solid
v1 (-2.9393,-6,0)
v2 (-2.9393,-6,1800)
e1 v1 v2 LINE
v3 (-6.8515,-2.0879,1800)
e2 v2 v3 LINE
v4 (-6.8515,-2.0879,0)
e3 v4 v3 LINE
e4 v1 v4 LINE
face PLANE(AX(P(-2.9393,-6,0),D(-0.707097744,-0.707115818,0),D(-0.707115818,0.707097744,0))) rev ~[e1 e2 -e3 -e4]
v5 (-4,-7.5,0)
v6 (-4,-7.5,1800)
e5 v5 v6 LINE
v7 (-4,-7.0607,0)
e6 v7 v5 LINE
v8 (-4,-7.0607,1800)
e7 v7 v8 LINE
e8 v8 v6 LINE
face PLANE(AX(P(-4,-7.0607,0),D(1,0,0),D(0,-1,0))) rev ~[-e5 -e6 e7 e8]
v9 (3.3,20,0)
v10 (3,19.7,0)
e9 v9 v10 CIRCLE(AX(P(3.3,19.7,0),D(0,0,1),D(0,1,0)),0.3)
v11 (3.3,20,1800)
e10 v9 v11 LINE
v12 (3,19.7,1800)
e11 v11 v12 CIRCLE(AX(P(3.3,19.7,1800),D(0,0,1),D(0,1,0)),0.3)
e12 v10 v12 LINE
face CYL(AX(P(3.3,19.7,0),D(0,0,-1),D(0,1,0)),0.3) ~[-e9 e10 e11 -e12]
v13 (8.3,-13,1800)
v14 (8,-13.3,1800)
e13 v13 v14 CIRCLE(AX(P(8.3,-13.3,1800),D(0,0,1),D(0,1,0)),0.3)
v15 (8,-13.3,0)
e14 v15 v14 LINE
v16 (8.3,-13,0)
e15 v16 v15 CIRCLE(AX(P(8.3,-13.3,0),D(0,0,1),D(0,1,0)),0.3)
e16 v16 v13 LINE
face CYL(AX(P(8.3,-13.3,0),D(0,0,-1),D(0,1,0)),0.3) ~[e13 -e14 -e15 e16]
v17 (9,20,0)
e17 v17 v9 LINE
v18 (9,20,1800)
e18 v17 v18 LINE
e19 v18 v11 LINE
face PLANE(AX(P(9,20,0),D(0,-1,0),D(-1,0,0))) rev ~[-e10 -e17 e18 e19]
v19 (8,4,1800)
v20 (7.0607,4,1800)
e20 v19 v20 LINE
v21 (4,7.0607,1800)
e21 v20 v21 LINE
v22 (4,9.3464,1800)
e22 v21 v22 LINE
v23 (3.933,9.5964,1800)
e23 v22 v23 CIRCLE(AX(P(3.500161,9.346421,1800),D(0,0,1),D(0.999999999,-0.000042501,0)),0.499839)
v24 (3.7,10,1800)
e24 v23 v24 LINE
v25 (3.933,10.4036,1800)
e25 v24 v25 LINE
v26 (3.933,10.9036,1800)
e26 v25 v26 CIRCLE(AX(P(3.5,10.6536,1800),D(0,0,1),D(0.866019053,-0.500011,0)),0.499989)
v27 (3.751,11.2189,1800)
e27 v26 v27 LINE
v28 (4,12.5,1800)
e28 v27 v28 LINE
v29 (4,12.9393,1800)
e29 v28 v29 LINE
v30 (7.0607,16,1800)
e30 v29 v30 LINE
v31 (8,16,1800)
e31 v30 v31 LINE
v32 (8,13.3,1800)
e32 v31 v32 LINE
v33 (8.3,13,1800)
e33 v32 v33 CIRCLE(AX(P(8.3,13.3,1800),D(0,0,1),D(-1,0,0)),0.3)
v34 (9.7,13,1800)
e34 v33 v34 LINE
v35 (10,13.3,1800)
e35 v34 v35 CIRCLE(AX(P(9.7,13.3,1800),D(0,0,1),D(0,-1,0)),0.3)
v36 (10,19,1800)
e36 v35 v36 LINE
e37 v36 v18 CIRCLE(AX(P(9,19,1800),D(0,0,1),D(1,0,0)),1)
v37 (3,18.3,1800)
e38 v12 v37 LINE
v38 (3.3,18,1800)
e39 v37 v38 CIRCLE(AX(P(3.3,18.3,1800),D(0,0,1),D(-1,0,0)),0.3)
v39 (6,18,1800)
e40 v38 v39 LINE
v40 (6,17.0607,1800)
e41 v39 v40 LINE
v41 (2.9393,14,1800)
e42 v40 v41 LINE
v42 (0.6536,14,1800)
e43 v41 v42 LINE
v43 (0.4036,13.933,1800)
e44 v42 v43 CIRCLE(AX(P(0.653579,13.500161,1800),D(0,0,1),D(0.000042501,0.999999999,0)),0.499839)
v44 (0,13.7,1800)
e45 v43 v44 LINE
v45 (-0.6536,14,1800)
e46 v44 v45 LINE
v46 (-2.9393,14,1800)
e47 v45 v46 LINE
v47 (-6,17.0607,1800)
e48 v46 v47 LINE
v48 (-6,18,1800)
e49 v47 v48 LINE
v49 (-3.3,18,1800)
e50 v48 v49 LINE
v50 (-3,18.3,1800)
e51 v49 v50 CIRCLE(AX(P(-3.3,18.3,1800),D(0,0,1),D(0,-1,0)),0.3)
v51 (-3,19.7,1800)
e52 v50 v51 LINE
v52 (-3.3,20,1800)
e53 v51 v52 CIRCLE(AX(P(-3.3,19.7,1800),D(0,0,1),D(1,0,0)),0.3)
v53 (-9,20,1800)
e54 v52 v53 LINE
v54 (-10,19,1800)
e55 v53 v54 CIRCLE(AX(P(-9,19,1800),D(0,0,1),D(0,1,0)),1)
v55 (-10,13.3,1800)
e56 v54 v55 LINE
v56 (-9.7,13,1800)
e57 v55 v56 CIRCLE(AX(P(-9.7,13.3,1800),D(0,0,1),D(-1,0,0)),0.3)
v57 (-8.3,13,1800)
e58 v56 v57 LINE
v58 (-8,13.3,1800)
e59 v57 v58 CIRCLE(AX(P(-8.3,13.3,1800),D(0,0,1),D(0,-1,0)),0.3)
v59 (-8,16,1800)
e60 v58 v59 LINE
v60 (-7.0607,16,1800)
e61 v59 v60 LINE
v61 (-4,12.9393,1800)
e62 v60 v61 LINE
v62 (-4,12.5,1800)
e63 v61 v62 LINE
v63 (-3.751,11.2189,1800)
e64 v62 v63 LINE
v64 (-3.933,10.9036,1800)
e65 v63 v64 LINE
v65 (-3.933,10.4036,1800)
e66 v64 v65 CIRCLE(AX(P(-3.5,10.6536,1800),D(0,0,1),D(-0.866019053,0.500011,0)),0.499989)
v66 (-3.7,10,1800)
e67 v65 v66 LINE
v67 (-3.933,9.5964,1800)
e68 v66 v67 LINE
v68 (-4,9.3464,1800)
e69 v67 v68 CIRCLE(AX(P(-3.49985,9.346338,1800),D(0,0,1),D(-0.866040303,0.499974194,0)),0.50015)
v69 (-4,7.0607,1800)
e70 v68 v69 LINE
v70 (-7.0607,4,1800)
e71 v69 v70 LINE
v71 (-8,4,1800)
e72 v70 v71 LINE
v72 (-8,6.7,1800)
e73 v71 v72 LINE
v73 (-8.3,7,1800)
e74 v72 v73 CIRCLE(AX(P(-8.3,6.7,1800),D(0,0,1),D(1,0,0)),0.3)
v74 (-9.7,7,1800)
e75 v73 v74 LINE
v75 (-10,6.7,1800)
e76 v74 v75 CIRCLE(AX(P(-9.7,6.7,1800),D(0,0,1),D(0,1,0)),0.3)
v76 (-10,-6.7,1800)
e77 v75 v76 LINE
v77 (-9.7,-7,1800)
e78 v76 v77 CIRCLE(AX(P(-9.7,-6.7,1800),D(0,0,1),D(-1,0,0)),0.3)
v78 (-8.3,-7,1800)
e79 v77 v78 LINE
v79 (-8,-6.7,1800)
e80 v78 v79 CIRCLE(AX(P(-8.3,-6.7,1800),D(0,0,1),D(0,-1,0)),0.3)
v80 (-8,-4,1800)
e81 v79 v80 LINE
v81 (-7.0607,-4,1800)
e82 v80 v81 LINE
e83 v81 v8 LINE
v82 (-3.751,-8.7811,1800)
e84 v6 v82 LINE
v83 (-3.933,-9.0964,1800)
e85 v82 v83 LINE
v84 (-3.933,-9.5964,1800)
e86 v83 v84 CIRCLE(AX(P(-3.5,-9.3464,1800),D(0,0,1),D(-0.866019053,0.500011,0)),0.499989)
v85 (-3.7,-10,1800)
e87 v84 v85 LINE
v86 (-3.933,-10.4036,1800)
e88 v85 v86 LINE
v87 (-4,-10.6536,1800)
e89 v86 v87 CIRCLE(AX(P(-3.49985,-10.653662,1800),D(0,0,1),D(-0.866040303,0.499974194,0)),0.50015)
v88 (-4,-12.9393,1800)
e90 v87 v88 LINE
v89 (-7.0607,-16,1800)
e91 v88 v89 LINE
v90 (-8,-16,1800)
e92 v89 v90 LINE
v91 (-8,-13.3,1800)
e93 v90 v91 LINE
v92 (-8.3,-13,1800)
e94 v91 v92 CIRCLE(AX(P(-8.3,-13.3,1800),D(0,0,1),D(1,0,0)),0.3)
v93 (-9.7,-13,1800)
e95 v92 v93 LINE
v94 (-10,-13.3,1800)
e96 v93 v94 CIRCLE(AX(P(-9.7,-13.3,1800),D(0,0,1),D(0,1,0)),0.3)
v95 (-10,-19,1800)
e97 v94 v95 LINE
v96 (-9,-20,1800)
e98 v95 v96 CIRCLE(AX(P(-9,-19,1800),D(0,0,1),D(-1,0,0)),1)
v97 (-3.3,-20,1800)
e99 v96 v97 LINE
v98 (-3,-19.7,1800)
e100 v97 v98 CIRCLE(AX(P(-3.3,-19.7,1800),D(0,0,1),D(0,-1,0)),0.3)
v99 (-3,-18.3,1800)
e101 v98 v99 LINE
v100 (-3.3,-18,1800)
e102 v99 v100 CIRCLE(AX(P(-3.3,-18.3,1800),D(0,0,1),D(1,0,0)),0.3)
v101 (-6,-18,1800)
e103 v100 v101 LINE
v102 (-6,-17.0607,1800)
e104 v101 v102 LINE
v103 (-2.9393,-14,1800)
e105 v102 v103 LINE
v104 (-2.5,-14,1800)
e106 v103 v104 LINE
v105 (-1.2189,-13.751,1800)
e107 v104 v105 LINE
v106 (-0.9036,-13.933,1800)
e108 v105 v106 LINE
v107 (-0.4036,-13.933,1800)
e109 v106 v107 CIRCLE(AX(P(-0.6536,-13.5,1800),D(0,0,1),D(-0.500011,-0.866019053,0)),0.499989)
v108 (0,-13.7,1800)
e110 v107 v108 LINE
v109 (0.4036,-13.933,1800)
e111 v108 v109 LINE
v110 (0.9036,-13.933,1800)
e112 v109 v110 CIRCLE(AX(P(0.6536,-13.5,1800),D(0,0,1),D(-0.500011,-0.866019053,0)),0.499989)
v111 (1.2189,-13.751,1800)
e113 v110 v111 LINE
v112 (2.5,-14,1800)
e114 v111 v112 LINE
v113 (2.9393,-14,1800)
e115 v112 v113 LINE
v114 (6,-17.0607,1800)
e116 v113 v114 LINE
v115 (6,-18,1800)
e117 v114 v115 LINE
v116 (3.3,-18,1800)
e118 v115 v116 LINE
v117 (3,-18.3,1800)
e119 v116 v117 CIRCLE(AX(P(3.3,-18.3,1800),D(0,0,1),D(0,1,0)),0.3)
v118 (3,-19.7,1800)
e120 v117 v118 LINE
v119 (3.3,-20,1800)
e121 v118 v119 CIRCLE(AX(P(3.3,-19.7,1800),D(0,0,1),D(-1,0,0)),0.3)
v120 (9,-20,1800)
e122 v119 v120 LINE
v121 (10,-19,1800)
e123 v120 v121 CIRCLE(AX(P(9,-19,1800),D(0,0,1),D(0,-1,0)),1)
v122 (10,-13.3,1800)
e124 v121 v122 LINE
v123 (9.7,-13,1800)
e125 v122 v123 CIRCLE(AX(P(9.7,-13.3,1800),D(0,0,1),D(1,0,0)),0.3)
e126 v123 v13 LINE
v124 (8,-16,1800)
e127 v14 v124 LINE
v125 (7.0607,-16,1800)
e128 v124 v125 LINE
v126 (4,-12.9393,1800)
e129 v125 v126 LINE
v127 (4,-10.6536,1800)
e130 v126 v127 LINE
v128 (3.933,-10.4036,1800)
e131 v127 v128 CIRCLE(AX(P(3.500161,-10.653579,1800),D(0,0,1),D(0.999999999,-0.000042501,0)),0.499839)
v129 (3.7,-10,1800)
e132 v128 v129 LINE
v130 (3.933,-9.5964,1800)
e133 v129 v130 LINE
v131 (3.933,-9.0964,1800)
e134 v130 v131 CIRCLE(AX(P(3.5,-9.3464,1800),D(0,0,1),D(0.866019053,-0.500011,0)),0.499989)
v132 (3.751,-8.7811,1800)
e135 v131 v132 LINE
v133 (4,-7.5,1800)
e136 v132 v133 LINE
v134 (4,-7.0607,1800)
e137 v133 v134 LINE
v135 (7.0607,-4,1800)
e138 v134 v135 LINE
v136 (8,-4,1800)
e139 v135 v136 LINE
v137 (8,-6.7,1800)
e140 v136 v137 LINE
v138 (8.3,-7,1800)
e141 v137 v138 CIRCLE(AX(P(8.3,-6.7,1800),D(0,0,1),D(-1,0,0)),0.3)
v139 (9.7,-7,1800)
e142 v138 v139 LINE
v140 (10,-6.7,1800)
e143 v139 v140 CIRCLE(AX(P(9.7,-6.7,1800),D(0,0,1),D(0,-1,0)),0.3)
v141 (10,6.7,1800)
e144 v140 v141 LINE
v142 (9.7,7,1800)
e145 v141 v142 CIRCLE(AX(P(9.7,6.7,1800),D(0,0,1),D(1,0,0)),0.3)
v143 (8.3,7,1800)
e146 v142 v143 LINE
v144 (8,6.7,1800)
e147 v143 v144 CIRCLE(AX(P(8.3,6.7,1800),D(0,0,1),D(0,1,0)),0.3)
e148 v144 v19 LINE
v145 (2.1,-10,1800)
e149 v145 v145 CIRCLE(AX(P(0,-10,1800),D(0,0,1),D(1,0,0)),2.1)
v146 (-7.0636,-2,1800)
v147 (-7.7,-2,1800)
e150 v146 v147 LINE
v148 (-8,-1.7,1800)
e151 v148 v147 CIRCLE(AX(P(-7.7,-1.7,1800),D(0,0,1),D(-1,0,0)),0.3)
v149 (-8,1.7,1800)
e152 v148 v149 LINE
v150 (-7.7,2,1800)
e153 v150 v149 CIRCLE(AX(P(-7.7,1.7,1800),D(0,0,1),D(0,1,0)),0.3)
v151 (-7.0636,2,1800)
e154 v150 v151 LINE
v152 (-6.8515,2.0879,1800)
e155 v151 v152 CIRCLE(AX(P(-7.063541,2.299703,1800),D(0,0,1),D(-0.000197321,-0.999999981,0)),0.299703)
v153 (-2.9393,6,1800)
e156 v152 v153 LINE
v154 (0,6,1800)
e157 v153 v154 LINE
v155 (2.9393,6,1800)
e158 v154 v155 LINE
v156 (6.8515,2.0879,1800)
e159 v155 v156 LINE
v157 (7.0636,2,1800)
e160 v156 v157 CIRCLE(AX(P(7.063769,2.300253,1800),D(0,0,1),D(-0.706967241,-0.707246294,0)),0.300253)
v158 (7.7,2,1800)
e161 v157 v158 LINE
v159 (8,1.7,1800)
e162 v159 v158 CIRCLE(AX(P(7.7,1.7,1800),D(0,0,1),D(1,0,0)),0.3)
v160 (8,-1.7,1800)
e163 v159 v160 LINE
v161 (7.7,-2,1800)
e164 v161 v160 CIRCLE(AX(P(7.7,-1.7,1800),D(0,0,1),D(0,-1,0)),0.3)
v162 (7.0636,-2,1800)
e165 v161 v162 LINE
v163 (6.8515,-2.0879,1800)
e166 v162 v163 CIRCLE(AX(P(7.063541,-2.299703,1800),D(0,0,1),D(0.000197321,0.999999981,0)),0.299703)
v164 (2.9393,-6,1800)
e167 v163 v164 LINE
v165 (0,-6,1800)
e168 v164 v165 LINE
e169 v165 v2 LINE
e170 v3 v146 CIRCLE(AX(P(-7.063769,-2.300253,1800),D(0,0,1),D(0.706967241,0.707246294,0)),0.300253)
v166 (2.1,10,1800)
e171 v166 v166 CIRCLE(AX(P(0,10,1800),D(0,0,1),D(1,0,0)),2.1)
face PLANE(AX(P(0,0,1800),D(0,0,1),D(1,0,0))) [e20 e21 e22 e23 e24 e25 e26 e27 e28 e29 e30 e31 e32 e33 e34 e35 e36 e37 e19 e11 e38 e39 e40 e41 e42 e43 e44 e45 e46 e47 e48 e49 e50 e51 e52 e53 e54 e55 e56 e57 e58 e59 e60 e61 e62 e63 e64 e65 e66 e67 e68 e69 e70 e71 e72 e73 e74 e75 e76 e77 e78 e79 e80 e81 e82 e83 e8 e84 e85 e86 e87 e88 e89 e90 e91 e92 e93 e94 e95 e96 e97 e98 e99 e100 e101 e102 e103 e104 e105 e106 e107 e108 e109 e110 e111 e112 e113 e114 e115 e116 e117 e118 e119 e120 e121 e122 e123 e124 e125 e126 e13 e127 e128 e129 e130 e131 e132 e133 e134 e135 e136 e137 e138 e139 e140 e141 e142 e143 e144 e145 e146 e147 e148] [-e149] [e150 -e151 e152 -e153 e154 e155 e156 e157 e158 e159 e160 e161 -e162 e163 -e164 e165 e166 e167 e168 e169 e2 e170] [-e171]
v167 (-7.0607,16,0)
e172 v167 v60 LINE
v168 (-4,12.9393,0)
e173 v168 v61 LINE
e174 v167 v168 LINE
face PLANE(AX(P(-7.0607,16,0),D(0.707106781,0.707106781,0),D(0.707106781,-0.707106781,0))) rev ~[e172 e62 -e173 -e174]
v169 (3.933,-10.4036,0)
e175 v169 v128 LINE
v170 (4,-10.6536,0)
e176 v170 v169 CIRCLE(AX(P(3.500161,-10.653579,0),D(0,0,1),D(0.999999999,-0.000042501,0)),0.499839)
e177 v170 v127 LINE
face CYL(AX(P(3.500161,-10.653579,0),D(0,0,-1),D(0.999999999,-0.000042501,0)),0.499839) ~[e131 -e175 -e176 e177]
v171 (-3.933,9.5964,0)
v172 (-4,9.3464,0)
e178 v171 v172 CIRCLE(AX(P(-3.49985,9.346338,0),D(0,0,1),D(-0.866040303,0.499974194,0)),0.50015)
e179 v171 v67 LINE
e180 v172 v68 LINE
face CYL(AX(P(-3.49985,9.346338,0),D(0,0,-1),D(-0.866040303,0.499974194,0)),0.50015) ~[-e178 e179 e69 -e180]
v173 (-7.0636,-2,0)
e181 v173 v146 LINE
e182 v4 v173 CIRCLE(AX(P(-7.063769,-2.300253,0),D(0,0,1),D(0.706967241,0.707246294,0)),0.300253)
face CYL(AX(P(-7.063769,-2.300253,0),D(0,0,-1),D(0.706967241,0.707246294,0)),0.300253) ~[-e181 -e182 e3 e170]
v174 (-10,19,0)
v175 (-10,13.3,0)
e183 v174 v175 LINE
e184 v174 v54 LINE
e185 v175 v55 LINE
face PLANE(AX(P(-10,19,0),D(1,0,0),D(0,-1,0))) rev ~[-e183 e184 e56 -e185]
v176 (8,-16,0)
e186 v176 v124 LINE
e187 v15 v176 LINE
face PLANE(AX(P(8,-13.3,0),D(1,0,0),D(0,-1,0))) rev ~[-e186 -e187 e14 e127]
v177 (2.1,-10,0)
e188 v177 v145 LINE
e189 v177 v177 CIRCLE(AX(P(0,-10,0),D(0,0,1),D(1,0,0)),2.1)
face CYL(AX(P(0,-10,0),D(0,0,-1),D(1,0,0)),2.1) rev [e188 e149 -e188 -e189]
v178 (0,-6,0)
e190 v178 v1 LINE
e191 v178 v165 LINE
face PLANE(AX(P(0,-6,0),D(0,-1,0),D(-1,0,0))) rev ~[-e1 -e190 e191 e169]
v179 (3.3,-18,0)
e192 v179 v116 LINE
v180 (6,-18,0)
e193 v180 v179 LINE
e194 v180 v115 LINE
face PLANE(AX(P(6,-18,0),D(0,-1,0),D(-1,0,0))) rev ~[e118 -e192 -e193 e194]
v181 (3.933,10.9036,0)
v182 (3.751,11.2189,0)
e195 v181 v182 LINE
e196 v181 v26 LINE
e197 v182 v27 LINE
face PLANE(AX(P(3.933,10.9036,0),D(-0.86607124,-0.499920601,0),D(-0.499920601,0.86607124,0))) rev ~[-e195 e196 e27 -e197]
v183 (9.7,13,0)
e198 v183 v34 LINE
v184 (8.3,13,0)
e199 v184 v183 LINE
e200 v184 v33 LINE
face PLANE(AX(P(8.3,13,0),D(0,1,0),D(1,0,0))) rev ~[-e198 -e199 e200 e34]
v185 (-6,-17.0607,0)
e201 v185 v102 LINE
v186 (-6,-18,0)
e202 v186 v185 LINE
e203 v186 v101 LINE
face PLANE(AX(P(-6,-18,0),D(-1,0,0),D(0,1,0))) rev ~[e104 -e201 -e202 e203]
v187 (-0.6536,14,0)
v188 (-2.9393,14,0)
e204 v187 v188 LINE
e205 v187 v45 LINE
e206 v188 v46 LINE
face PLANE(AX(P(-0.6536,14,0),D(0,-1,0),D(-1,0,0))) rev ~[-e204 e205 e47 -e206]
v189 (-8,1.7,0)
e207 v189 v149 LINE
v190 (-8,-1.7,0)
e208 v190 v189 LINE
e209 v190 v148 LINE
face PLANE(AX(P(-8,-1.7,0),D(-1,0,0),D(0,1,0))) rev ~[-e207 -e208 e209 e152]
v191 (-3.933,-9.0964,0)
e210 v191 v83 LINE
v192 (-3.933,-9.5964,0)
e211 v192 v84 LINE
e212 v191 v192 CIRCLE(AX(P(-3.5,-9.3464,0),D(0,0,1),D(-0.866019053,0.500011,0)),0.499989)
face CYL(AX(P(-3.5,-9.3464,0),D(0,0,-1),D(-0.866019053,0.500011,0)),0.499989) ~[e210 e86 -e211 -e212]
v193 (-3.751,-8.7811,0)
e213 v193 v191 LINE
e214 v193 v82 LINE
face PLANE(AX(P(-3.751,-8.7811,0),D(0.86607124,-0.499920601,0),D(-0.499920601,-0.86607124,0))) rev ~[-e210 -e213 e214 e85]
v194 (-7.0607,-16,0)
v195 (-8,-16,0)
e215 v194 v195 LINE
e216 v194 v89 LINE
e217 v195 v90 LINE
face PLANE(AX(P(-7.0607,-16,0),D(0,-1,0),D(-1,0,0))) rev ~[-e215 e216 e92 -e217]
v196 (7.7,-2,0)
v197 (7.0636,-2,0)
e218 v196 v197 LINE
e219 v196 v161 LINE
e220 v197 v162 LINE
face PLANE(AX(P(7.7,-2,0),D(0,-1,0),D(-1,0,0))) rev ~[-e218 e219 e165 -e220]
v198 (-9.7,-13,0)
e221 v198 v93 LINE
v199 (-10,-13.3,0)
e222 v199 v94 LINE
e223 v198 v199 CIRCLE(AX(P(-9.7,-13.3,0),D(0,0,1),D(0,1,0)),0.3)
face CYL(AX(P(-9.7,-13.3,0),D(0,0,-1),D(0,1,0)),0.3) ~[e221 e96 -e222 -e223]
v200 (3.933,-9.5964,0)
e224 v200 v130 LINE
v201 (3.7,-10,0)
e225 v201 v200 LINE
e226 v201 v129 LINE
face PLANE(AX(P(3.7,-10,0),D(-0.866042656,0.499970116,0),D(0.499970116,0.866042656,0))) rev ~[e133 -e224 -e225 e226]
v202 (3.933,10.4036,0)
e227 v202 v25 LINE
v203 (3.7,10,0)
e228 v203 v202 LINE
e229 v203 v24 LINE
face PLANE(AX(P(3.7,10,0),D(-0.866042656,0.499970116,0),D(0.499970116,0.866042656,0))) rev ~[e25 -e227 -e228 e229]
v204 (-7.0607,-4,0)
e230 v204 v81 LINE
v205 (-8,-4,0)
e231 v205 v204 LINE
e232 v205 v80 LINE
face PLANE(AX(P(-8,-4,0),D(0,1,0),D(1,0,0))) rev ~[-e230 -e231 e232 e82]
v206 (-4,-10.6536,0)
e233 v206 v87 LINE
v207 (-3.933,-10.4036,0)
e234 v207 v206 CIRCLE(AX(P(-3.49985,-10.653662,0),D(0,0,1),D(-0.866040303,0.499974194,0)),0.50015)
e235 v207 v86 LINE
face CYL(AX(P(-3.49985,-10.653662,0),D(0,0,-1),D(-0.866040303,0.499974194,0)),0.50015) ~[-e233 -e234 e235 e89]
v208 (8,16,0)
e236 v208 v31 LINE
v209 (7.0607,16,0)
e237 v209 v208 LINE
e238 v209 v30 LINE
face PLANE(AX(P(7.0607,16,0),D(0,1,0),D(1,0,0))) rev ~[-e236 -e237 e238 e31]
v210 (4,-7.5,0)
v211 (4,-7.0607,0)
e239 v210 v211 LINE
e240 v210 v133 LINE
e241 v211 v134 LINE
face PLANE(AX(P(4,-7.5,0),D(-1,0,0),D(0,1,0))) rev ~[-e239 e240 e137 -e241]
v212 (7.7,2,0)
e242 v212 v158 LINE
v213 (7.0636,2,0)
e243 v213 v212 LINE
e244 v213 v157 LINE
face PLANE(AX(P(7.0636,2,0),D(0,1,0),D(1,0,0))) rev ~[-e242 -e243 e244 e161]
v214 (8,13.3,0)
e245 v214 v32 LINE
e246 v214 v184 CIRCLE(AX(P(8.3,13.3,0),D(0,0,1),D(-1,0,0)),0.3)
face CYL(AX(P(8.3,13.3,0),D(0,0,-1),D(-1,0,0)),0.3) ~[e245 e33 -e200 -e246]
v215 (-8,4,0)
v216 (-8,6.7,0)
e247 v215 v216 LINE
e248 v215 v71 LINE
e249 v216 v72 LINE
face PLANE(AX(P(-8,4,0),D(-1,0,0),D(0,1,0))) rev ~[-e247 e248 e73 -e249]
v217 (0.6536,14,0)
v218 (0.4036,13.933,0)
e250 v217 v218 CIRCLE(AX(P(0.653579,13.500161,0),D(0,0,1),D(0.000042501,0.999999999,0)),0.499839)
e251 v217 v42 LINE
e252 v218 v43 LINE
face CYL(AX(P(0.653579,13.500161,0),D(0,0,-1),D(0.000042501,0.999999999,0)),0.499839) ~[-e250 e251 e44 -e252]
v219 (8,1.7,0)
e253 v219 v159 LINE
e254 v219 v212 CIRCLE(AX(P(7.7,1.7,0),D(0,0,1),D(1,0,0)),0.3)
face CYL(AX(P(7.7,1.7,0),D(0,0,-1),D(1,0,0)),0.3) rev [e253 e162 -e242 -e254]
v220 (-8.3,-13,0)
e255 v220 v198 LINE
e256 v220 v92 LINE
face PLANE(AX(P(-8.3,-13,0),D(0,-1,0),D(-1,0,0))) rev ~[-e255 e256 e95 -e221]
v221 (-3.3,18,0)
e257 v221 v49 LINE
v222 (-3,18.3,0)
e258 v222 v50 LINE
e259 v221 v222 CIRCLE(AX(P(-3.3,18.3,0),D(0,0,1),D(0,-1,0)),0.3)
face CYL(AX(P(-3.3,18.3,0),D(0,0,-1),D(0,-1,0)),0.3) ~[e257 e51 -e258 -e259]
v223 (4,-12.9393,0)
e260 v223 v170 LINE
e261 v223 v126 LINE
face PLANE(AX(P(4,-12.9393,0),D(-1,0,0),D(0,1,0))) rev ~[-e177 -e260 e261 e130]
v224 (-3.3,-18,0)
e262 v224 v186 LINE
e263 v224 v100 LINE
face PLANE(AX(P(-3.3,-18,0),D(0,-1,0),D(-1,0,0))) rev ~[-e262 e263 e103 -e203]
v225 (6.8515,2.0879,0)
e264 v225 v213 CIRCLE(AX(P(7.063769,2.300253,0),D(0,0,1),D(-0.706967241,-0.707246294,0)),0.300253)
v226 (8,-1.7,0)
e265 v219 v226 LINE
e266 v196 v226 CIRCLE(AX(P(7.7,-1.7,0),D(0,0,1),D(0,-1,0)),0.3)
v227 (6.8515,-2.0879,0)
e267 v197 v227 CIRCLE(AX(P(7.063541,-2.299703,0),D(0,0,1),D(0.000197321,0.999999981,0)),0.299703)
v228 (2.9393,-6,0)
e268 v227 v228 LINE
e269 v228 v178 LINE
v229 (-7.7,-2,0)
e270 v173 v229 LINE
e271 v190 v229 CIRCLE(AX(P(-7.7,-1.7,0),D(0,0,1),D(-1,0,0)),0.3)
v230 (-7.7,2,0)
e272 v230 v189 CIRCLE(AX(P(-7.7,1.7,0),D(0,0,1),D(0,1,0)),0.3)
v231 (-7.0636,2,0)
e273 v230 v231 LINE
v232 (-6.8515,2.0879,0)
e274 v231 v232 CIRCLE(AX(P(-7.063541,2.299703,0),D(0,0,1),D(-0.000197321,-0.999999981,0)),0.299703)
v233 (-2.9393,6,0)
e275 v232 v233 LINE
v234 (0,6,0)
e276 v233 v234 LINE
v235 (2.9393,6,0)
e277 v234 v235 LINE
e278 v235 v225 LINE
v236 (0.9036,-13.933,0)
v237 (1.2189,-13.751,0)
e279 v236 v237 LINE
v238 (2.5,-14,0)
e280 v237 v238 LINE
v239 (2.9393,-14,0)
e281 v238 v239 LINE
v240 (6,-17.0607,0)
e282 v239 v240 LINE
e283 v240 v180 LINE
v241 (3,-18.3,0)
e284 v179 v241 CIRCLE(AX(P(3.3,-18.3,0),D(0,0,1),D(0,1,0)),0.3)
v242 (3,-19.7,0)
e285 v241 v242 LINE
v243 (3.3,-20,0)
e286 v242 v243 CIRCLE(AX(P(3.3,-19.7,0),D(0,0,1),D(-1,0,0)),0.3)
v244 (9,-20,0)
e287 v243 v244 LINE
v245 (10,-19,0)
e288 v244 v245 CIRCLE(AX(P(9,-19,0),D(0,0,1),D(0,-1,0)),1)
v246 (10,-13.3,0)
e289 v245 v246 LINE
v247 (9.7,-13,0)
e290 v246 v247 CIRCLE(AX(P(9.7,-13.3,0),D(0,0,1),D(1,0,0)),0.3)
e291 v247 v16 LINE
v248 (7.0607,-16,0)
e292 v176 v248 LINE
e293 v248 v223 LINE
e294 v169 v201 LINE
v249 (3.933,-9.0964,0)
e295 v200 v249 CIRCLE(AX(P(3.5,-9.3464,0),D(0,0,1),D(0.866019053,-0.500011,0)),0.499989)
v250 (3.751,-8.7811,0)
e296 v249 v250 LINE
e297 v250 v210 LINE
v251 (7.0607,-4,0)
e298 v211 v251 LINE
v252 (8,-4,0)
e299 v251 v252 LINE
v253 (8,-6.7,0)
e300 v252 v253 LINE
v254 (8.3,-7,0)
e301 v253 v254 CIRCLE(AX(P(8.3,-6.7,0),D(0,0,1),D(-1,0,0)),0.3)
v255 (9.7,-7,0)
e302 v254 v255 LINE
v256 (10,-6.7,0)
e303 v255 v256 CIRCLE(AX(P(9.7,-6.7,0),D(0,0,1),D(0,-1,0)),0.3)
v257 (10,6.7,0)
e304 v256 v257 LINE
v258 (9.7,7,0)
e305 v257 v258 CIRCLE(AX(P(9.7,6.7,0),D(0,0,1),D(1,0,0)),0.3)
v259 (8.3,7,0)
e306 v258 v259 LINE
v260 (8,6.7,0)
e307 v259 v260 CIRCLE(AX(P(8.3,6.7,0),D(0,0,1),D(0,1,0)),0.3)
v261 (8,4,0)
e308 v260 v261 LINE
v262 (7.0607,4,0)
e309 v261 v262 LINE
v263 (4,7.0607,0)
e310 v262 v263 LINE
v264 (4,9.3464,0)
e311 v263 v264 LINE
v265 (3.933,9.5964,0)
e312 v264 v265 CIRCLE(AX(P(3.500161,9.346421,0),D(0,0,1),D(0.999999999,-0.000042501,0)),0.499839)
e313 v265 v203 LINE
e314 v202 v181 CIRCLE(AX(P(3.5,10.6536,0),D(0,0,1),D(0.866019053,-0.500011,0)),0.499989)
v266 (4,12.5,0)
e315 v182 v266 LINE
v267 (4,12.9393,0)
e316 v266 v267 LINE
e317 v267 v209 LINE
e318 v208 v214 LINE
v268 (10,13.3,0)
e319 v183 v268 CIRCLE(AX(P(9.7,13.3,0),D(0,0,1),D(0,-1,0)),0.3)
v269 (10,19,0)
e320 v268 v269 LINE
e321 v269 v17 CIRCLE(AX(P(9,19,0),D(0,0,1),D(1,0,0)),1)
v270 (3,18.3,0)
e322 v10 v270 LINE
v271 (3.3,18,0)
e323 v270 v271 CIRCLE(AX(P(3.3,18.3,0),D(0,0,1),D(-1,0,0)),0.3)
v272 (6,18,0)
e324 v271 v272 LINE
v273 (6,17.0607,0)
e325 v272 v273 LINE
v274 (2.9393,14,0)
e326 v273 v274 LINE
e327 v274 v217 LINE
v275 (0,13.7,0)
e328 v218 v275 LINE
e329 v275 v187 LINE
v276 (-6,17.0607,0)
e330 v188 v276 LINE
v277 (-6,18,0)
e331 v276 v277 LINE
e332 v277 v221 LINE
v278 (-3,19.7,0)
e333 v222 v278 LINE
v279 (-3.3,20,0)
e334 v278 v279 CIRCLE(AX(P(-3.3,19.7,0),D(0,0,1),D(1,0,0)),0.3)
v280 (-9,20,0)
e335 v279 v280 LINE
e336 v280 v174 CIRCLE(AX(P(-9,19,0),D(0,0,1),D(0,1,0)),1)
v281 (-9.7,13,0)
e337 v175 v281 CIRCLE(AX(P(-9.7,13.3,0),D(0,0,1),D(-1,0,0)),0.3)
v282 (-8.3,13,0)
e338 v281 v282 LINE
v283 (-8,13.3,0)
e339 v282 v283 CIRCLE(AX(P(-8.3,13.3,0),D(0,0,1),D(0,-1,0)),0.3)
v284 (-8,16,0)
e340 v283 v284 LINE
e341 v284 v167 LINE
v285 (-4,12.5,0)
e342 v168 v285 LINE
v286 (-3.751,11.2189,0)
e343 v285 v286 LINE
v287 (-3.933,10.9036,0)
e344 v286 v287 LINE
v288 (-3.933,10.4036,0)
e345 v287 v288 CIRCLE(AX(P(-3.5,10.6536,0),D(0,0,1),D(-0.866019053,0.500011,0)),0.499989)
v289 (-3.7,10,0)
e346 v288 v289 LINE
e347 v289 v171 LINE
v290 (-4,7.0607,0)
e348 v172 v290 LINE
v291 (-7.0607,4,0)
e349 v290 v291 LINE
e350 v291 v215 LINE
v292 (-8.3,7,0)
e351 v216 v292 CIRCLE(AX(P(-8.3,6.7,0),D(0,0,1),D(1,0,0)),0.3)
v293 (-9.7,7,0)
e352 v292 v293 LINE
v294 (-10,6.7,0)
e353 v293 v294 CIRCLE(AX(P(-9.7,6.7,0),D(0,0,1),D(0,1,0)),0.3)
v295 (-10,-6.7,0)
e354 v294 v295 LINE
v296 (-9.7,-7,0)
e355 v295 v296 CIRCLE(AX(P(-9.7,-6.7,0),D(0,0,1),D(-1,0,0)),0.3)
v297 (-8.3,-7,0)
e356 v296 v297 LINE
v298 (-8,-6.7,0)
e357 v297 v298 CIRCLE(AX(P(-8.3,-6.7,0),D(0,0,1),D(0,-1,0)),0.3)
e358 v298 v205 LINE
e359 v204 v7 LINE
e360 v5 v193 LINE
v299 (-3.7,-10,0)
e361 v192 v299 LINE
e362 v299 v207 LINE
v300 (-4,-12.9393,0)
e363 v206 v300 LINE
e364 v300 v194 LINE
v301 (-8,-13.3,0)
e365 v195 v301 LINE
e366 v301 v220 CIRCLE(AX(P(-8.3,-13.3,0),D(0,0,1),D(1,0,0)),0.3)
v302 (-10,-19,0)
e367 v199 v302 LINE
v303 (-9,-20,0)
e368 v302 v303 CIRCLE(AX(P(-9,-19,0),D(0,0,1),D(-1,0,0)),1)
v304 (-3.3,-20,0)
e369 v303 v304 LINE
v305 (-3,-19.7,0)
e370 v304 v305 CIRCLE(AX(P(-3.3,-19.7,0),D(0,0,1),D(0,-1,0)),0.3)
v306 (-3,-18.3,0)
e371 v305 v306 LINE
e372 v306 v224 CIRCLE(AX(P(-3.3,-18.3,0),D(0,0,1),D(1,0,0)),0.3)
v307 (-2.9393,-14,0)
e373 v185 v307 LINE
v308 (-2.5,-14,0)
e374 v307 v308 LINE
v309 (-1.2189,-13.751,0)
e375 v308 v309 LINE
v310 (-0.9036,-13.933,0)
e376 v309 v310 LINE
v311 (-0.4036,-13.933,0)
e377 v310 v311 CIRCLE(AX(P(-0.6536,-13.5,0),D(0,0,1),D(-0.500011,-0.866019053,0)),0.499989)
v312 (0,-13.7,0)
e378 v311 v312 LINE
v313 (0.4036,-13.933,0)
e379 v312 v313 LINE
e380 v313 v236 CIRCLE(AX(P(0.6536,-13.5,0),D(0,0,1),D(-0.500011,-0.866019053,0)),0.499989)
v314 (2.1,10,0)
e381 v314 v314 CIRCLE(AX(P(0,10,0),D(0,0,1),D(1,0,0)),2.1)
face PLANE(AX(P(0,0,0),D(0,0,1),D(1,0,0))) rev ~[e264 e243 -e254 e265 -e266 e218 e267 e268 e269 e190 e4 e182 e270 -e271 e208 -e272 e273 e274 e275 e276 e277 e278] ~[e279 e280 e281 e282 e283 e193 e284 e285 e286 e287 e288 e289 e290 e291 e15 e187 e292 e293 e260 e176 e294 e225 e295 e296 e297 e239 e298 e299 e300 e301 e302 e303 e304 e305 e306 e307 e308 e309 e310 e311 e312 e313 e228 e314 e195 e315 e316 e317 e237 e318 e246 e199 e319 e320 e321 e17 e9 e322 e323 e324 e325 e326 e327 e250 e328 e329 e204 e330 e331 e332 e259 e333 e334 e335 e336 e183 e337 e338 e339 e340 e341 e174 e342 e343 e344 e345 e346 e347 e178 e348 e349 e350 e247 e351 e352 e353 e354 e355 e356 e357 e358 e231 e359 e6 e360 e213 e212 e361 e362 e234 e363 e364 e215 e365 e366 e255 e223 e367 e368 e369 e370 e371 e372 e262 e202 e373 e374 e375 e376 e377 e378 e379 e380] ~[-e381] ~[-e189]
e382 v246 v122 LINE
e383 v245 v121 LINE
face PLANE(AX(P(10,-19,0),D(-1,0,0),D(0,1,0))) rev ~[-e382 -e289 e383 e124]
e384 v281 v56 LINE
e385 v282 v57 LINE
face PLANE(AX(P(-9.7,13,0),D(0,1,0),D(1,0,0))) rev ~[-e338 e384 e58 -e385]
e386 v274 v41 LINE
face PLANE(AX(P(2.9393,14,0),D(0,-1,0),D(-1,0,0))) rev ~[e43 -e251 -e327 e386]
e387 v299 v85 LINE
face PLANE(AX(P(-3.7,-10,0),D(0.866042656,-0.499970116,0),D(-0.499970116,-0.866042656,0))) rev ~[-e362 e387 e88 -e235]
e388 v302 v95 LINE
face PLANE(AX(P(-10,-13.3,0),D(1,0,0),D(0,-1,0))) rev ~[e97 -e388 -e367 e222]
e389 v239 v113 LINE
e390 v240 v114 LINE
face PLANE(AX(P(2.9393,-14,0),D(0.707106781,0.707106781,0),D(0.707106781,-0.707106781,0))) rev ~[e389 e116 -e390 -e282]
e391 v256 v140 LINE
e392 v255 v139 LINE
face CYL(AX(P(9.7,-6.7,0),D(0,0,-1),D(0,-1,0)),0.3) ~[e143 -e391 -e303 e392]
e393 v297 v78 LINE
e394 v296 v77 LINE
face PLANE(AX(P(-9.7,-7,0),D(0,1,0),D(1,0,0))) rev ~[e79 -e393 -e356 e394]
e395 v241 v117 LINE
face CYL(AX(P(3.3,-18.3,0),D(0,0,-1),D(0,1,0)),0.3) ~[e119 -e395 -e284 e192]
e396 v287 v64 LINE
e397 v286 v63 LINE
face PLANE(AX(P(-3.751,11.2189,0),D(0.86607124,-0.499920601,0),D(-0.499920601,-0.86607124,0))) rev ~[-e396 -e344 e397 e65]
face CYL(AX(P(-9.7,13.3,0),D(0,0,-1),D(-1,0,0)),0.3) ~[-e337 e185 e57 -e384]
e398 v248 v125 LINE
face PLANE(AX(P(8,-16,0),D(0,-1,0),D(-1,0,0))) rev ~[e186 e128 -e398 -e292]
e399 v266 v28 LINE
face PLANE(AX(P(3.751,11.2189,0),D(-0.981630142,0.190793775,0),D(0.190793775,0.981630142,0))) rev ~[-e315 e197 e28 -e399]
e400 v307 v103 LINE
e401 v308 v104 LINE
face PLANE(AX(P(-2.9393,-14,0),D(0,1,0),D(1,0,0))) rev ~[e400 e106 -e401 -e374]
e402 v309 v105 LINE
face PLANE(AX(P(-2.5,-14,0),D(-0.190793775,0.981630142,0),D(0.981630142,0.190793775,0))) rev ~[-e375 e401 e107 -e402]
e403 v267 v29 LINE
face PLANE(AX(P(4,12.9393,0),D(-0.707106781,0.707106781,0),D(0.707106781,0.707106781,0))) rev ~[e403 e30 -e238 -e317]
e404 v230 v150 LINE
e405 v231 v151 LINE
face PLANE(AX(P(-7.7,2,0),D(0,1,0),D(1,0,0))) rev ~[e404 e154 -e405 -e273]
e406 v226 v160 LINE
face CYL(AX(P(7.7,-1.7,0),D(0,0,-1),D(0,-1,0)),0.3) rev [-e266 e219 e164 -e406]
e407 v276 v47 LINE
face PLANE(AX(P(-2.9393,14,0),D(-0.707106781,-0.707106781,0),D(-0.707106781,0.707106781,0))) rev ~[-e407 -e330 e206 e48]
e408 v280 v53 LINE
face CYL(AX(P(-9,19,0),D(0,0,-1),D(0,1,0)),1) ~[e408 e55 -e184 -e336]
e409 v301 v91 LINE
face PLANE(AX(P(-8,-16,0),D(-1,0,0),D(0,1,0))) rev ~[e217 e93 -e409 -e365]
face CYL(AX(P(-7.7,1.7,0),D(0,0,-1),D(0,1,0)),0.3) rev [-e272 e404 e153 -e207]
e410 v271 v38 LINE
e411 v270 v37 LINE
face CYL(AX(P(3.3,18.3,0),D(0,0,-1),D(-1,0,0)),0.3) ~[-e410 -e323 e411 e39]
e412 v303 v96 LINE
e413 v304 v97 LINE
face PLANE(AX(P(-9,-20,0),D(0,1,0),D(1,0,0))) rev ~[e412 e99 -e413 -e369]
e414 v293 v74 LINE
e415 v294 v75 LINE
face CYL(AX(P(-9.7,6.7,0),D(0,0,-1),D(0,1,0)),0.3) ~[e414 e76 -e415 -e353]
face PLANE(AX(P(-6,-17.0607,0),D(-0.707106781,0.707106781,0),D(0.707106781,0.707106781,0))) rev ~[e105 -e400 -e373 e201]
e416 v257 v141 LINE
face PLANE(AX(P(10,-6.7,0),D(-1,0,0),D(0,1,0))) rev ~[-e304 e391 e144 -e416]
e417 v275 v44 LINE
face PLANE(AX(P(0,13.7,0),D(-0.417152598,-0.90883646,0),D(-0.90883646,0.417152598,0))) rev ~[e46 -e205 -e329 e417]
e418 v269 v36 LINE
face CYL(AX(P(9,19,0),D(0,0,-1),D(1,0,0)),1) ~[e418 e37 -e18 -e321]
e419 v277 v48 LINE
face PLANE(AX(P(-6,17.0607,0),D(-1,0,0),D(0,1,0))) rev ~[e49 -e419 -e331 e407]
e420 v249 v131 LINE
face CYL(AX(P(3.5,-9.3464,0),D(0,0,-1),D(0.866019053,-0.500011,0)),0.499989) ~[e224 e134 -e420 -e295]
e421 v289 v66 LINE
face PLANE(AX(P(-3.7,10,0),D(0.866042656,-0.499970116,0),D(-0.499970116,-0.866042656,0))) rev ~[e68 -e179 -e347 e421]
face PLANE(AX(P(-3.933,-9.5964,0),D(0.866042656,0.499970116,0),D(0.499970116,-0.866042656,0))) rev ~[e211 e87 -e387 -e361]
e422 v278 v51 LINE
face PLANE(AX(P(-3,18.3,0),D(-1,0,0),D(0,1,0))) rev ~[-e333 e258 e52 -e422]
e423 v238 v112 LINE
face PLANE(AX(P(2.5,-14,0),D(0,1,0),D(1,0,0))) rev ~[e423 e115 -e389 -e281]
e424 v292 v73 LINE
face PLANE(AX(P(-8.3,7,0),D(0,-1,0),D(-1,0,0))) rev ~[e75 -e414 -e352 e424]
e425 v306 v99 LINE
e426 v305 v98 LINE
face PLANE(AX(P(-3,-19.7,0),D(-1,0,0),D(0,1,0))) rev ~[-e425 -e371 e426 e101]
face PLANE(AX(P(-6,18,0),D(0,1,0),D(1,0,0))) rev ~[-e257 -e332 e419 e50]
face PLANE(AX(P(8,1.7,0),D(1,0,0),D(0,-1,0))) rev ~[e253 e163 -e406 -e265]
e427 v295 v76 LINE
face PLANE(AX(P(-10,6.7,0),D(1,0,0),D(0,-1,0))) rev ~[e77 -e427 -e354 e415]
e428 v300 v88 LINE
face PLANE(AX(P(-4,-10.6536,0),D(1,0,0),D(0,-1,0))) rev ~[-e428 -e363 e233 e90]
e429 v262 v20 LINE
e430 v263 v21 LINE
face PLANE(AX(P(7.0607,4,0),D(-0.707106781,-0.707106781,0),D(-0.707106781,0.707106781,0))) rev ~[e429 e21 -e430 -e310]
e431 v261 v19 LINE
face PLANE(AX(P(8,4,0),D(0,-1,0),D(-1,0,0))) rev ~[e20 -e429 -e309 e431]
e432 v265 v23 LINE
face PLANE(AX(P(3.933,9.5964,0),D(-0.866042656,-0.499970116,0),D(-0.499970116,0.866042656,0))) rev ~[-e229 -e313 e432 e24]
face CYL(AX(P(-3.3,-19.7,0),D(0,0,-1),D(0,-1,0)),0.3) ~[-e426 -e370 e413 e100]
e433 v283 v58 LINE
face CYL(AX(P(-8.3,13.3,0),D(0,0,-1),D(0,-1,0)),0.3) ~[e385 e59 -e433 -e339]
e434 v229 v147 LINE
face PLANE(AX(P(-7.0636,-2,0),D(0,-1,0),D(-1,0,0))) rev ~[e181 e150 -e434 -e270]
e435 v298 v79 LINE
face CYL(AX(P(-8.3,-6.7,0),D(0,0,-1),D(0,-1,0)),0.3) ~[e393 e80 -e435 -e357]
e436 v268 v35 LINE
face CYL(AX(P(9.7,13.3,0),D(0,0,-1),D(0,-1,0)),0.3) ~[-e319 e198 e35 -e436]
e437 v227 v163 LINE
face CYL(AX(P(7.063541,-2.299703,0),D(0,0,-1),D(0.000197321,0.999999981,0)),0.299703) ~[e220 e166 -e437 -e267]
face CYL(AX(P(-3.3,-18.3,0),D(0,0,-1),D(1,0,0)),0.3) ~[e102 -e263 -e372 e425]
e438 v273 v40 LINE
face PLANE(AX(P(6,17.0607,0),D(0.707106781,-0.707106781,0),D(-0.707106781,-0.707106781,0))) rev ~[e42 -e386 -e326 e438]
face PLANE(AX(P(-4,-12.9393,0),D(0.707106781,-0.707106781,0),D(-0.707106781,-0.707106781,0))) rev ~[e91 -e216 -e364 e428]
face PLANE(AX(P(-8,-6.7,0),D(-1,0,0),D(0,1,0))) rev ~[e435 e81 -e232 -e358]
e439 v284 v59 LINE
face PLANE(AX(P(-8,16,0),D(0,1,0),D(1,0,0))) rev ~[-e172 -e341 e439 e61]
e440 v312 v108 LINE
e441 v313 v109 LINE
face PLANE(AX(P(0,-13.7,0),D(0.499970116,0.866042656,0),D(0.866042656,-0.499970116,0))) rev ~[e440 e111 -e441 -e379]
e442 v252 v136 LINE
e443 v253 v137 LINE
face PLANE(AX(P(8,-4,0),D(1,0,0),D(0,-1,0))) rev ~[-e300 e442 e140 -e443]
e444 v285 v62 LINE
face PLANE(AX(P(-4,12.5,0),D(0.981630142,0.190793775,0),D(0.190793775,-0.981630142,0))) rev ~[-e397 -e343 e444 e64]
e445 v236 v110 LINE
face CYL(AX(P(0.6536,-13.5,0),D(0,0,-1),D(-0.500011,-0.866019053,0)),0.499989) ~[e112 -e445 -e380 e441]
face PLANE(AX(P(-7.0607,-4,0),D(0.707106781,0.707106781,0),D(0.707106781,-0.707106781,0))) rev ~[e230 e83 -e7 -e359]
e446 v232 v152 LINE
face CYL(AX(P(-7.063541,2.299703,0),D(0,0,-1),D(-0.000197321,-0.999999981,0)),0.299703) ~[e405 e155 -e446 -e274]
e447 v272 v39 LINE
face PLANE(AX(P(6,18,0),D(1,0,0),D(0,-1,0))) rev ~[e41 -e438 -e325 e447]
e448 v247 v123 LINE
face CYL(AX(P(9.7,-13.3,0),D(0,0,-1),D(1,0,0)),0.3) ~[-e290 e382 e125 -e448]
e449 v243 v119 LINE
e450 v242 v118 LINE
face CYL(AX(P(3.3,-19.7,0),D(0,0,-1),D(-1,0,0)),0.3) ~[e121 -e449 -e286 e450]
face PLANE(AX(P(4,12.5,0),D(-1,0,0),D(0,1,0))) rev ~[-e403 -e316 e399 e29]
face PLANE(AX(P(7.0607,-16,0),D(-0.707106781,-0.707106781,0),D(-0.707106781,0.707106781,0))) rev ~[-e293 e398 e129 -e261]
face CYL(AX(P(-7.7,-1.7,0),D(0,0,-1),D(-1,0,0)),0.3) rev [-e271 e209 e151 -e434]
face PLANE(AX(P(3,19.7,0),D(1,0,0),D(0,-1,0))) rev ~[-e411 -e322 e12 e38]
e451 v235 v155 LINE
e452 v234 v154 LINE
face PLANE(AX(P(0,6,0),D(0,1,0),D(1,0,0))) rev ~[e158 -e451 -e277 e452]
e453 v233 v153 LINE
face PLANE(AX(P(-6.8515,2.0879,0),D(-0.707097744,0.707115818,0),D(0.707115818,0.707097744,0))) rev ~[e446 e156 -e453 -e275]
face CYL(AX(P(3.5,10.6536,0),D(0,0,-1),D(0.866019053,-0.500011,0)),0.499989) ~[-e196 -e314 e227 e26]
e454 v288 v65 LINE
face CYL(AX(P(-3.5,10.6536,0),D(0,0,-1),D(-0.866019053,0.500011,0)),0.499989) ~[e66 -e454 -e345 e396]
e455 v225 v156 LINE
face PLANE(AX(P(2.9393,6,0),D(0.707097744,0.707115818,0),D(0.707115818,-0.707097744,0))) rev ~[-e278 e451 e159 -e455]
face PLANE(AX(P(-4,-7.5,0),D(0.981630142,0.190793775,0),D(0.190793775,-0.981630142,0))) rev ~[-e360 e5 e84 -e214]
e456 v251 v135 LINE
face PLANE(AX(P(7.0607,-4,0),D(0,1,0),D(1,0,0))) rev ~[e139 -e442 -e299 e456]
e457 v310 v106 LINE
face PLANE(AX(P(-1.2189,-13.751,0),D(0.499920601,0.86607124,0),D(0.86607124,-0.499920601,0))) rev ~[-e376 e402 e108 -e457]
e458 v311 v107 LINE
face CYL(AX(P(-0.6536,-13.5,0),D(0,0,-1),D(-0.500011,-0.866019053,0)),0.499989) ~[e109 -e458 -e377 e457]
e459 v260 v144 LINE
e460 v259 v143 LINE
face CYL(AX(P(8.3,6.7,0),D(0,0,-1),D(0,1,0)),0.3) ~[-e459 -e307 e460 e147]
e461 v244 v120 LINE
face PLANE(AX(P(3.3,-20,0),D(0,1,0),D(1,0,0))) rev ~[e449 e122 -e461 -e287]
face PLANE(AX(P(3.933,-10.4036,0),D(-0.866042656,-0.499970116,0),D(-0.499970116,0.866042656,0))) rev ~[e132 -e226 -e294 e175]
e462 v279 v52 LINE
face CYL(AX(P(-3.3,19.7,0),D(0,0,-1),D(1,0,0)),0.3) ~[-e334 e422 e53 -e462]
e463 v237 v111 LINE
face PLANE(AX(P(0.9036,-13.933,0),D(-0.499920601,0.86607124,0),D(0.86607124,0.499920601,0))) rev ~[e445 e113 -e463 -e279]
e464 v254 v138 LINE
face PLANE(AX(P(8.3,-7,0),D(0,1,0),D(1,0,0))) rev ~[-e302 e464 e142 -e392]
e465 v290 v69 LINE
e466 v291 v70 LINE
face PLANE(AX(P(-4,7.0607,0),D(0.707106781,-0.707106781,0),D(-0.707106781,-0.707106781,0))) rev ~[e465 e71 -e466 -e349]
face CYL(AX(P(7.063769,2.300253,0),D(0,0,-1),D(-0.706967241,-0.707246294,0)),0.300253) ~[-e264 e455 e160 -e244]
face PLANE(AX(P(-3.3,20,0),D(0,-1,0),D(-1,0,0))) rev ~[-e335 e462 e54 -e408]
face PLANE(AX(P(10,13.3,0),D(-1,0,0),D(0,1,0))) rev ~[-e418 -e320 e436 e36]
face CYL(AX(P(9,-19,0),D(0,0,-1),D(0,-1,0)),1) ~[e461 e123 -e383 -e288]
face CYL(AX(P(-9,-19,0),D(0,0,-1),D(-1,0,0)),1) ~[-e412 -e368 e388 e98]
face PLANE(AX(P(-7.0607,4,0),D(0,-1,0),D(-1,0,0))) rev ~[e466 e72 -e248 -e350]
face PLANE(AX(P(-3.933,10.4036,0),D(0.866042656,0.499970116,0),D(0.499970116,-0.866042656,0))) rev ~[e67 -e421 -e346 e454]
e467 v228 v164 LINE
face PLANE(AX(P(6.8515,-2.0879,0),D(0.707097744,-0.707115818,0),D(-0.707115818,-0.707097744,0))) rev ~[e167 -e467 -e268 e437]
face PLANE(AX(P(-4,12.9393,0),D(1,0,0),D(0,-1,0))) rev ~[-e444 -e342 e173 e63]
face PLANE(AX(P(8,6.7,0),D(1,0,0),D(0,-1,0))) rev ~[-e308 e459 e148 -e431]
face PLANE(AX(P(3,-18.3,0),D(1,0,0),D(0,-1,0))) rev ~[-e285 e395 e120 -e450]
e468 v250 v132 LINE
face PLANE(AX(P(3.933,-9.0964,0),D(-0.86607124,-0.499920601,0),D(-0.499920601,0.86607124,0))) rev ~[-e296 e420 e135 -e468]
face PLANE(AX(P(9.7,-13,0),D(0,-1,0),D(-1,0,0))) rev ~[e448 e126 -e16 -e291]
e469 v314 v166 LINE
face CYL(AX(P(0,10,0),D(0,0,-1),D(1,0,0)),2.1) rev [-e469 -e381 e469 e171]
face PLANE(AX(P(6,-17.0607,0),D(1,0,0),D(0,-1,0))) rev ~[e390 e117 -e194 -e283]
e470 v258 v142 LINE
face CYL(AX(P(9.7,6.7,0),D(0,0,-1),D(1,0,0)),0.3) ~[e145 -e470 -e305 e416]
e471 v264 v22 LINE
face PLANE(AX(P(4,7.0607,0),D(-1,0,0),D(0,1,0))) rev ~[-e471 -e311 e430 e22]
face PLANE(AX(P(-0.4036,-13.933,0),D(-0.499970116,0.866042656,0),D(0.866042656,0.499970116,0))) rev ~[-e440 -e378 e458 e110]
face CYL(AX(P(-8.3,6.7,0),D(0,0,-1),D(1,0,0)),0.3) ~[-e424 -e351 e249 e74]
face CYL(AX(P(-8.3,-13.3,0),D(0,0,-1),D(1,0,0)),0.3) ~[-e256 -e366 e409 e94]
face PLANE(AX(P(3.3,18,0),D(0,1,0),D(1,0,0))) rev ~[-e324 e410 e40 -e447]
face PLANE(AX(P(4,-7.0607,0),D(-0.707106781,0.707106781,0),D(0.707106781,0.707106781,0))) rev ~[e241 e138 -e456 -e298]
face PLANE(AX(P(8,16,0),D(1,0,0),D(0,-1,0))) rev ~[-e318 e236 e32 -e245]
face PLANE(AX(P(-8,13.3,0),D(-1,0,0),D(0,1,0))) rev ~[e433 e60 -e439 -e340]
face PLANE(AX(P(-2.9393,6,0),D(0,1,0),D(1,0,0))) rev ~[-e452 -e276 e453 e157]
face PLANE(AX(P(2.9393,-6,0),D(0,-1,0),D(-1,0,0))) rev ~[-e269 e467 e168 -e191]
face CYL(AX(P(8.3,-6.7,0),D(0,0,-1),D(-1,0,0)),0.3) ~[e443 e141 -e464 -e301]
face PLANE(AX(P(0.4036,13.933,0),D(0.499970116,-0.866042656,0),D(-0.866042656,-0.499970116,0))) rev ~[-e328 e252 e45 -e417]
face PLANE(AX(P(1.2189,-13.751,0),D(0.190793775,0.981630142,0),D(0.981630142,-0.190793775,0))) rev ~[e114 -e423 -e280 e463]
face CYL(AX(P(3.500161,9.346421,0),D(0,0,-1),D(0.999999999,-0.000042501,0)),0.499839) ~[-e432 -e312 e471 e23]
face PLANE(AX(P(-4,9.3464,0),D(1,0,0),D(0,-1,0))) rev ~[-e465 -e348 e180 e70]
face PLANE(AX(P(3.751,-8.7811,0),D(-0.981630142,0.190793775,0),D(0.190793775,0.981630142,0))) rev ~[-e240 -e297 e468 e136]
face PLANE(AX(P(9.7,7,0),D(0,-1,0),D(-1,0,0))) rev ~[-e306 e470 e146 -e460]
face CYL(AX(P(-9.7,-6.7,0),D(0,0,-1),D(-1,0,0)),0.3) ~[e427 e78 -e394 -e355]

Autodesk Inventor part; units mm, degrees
ref_plane "YZ Plane" through (0, 0, 0) normal (1, 0, 0) x (0, 1, 0)
ref_plane "XZ Plane" through (0, 0, 0) normal (0, 1, 0) x (-1, 0, 0)
ref_plane "XY Plane" through (0, 0, 0) normal (0, 0, 1) x (1, 0, 0)
sketch "Sketch1" plane through (0, 0, 0) normal (0, 0, 1) x (1, 0, 0)
  circle A0 centre (0, -10) radius 2.1
  circle A1 centre (0, 10) radius 2.1
  line L0 (-8, -6.7) -> (-8, -4)
  line L1 (-8, -4) -> (-7.0607, -4)
  line L2 (-7.0607, -4) -> (-4, -7.0607)
  line L3 (-4, -7.0607) -> (-4, -7.5)
  line L4 (-4, -7.5) -> (-3.751, -8.7811)
  line L5 (-3.751, -8.7811) -> (-3.933, -9.0964)
  arc A2 (-3.933, -9.0964) -> (-3.933, -9.5964) centre (-3.5, -9.3464) ccw
  line L6 (-3.933, -9.5964) -> (-3.7, -10)
  line L7 (-3.7, -10) -> (-3.933, -10.4036)
  arc A3 (-3.933, -10.4036) -> (-4, -10.6536) centre (-3.5, -10.6536) ccw
  line L8 (-4, -10.6536) -> (-4, -12.9393)
  line L9 (-4, -12.9393) -> (-7.0607, -16)
  line L10 (-7.0607, -16) -> (-8, -16)
  line L11 (-8, -16) -> (-8, -13.3)
  arc A4 (-8, -13.3) -> (-8.3, -13) centre (-8.3, -13.3) ccw
  line L12 (-8.3, -13) -> (-9.7, -13)
  arc A5 (-9.7, -13) -> (-10, -13.3) centre (-9.7, -13.3) ccw
  line L13 (-10, -13.3) -> (-10, -19)
  arc A6 (-10, -19) -> (-9, -20) centre (-9, -19) ccw
  line L14 (-9, -20) -> (-3.3, -20)
  arc A7 (-3.3, -20) -> (-3, -19.7) centre (-3.3, -19.7) ccw
  line L15 (-3, -19.7) -> (-3, -18.3)
  arc A8 (-3, -18.3) -> (-3.3, -18) centre (-3.3, -18.3) ccw
  line L16 (-3.3, -18) -> (-6, -18)
  line L17 (-6, -18) -> (-6, -17.0607)
  line L18 (-6, -17.0607) -> (-2.9393, -14)
  line L19 (-2.9393, -14) -> (-2.5, -14)
  line L20 (-2.5, -14) -> (-1.2189, -13.751)
  line L21 (-1.2189, -13.751) -> (-0.9036, -13.933)
  arc A9 (-0.9036, -13.933) -> (-0.4036, -13.933) centre (-0.6536, -13.5) ccw
  line L22 (-0.4036, -13.933) -> (0, -13.7)
  line L23 (0, -13.7) -> (0.4036, -13.933)
  arc A10 (0.4036, -13.933) -> (0.9036, -13.933) centre (0.6536, -13.5) ccw
  line L24 (0.9036, -13.933) -> (1.2189, -13.751)
  line L25 (1.2189, -13.751) -> (2.5, -14)
  line L26 (2.5, -14) -> (2.9393, -14)
  line L27 (2.9393, -14) -> (6, -17.0607)
  line L28 (6, -17.0607) -> (6, -18)
  line L29 (6, -18) -> (3.3, -18)
  arc A11 (3.3, -18) -> (3, -18.3) centre (3.3, -18.3) ccw
  line L30 (3, -18.3) -> (3, -19.7)
  arc A12 (3, -19.7) -> (3.3, -20) centre (3.3, -19.7) ccw
  line L31 (3.3, -20) -> (9, -20)
  arc A13 (9, -20) -> (10, -19) centre (9, -19) ccw
  line L32 (10, -19) -> (10, -13.3)
  arc A14 (10, -13.3) -> (9.7, -13) centre (9.7, -13.3) ccw
  line L33 (9.7, -13) -> (8.3, -13)
  arc A15 (8.3, -13) -> (8, -13.3) centre (8.3, -13.3) ccw
  line L34 (8, -13.3) -> (8, -16)
  line L35 (8, -16) -> (7.0607, -16)
  line L36 (7.0607, -16) -> (4, -12.9393)
  line L37 (4, -12.9393) -> (4, -10.6536)
  arc A16 (4, -10.6536) -> (3.933, -10.4036) centre (3.5, -10.6536) ccw
  line L38 (3.933, -10.4036) -> (3.7, -10)
  line L39 (3.7, -10) -> (3.933, -9.5964)
  arc A17 (3.933, -9.5964) -> (3.933, -9.0964) centre (3.5, -9.3464) ccw
  line L40 (3.933, -9.0964) -> (3.751, -8.7811)
  line L41 (3.751, -8.7811) -> (4, -7.5)
  line L42 (4, -7.5) -> (4, -7.0607)
  line L43 (4, -7.0607) -> (7.0607, -4)
  line L44 (7.0607, -4) -> (8, -4)
  line L45 (8, -4) -> (8, -6.7)
  arc A18 (8, -6.7) -> (8.3, -7) centre (8.3, -6.7) ccw
  line L46 (8.3, -7) -> (9.7, -7)
  arc A19 (9.7, -7) -> (10, -6.7) centre (9.7, -6.7) ccw
  line L47 (10, -6.7) -> (10, 6.7)
  arc A20 (10, 6.7) -> (9.7, 7) centre (9.7, 6.7) ccw
  line L48 (9.7, 7) -> (8.3, 7)
  arc A21 (8.3, 7) -> (8, 6.7) centre (8.3, 6.7) ccw
  line L49 (8, 6.7) -> (8, 4)
  line L50 (8, 4) -> (7.0607, 4)
  line L51 (7.0607, 4) -> (4, 7.0607)
  line L52 (4, 7.0607) -> (4, 9.3464)
  arc A22 (4, 9.3464) -> (3.933, 9.5964) centre (3.5, 9.3464) ccw
  line L53 (3.933, 9.5964) -> (3.7, 10)
  line L54 (3.7, 10) -> (3.933, 10.4036)
  arc A23 (3.933, 10.4036) -> (3.933, 10.9036) centre (3.5, 10.6536) ccw
  line L55 (3.933, 10.9036) -> (3.751, 11.2189)
  line L56 (3.751, 11.2189) -> (4, 12.5)
  line L57 (4, 12.5) -> (4, 12.9393)
  line L58 (4, 12.9393) -> (7.0607, 16)
  line L59 (7.0607, 16) -> (8, 16)
  line L60 (8, 16) -> (8, 13.3)
  arc A24 (8, 13.3) -> (8.3, 13) centre (8.3, 13.3) ccw
  line L61 (8.3, 13) -> (9.7, 13)
  arc A25 (9.7, 13) -> (10, 13.3) centre (9.7, 13.3) ccw
  line L62 (10, 13.3) -> (10, 19)
  arc A26 (10, 19) -> (9, 20) centre (9, 19) ccw
  line L63 (9, 20) -> (3.3, 20)
  arc A27 (3.3, 20) -> (3, 19.7) centre (3.3, 19.7) ccw
  line L64 (3, 19.7) -> (3, 18.3)
  arc A28 (3, 18.3) -> (3.3, 18) centre (3.3, 18.3) ccw
  line L65 (3.3, 18) -> (6, 18)
  line L66 (6, 18) -> (6, 17.0607)
  line L67 (6, 17.0607) -> (2.9393, 14)
  line L68 (2.9393, 14) -> (0.6536, 14)
  arc A29 (0.6536, 14) -> (0.4036, 13.933) centre (0.6536, 13.5) ccw
  line L69 (0.4036, 13.933) -> (0, 13.7)
  line L70 (0, 13.7) -> (-0.6536, 14)
  line L71 (-0.6536, 14) -> (-2.9393, 14)
  line L72 (-2.9393, 14) -> (-6, 17.0607)
  line L73 (-6, 17.0607) -> (-6, 18)
  line L74 (-6, 18) -> (-3.3, 18)
  arc A30 (-3.3, 18) -> (-3, 18.3) centre (-3.3, 18.3) ccw
  line L75 (-3, 18.3) -> (-3, 19.7)
  arc A31 (-3, 19.7) -> (-3.3, 20) centre (-3.3, 19.7) ccw
  line L76 (-3.3, 20) -> (-9, 20)
  arc A32 (-9, 20) -> (-10, 19) centre (-9, 19) ccw
  line L77 (-10, 19) -> (-10, 13.3)
  arc A33 (-10, 13.3) -> (-9.7, 13) centre (-9.7, 13.3) ccw
  line L78 (-9.7, 13) -> (-8.3, 13)
  arc A34 (-8.3, 13) -> (-8, 13.3) centre (-8.3, 13.3) ccw
  line L79 (-8, 13.3) -> (-8, 16)
  line L80 (-8, 16) -> (-7.0607, 16)
  line L81 (-7.0607, 16) -> (-4, 12.9393)
  line L82 (-4, 12.9393) -> (-4, 12.5)
  line L83 (-4, 12.5) -> (-3.751, 11.2189)
  line L84 (-3.751, 11.2189) -> (-3.933, 10.9036)
  arc A35 (-3.933, 10.9036) -> (-3.933, 10.4036) centre (-3.5, 10.6536) ccw
  line L85 (-3.933, 10.4036) -> (-3.7, 10)
  line L86 (-3.7, 10) -> (-3.933, 9.5964)
  arc A36 (-3.933, 9.5964) -> (-4, 9.3464) centre (-3.5, 9.3464) ccw
  line L87 (-4, 9.3464) -> (-4, 7.0607)
  line L88 (-4, 7.0607) -> (-7.0607, 4)
  line L89 (-7.0607, 4) -> (-8, 4)
  line L90 (-8, 4) -> (-8, 6.7)
  arc A37 (-8, 6.7) -> (-8.3, 7) centre (-8.3, 6.7) ccw
  line L91 (-8.3, 7) -> (-9.7, 7)
  arc A38 (-9.7, 7) -> (-10, 6.7) centre (-9.7, 6.7) ccw
  line L92 (-10, 6.7) -> (-10, -6.7)
  arc A39 (-10, -6.7) -> (-9.7, -7) centre (-9.7, -6.7) ccw
  line L93 (-9.7, -7) -> (-8.3, -7)
  arc A40 (-8.3, -7) -> (-8, -6.7) centre (-8.3, -6.7) ccw
  line L94 (2.9393, 6) -> (6.8515, 2.0879)
  arc A41 (6.8515, 2.0879) -> (7.0636, 2) centre (7.0636, 2.3) ccw
  line L95 (7.0636, 2) -> (7.7, 2)
  arc A42 (8, 1.7) -> (7.7, 2) centre (7.7, 1.7) ccw
  line L96 (8, 1.7) -> (8, -1.7)
  arc A43 (7.7, -2) -> (8, -1.7) centre (7.7, -1.7) ccw
  line L97 (7.7, -2) -> (7.0636, -2)
  arc A44 (7.0636, -2) -> (6.8515, -2.0879) centre (7.0636, -2.3) ccw
  line L98 (6.8515, -2.0879) -> (2.9393, -6)
  line L99 (2.9393, -6) -> (0, -6)
  line L100 (0, -6) -> (-2.9393, -6)
  line L101 (-2.9393, -6) -> (-6.8515, -2.0879)
  arc A45 (-6.8515, -2.0879) -> (-7.0636, -2) centre (-7.0636, -2.3) ccw
  line L102 (-7.0636, -2) -> (-7.7, -2)
  arc A46 (-8, -1.7) -> (-7.7, -2) centre (-7.7, -1.7) ccw
  line L103 (-8, -1.7) -> (-8, 1.7)
  arc A47 (-7.7, 2) -> (-8, 1.7) centre (-7.7, 1.7) ccw
  line L104 (-7.7, 2) -> (-7.0636, 2)
  arc A48 (-7.0636, 2) -> (-6.8515, 2.0879) centre (-7.0636, 2.3) ccw
  line L105 (-6.8515, 2.0879) -> (-2.9393, 6)
  line L106 (-2.9393, 6) -> (0, 6)
  line L107 (0, 6) -> (2.9393, 6)
extrude "Extrusion1" add sketch "Sketch1" along normal blind 1800
properties part number "hfs5-2040"
